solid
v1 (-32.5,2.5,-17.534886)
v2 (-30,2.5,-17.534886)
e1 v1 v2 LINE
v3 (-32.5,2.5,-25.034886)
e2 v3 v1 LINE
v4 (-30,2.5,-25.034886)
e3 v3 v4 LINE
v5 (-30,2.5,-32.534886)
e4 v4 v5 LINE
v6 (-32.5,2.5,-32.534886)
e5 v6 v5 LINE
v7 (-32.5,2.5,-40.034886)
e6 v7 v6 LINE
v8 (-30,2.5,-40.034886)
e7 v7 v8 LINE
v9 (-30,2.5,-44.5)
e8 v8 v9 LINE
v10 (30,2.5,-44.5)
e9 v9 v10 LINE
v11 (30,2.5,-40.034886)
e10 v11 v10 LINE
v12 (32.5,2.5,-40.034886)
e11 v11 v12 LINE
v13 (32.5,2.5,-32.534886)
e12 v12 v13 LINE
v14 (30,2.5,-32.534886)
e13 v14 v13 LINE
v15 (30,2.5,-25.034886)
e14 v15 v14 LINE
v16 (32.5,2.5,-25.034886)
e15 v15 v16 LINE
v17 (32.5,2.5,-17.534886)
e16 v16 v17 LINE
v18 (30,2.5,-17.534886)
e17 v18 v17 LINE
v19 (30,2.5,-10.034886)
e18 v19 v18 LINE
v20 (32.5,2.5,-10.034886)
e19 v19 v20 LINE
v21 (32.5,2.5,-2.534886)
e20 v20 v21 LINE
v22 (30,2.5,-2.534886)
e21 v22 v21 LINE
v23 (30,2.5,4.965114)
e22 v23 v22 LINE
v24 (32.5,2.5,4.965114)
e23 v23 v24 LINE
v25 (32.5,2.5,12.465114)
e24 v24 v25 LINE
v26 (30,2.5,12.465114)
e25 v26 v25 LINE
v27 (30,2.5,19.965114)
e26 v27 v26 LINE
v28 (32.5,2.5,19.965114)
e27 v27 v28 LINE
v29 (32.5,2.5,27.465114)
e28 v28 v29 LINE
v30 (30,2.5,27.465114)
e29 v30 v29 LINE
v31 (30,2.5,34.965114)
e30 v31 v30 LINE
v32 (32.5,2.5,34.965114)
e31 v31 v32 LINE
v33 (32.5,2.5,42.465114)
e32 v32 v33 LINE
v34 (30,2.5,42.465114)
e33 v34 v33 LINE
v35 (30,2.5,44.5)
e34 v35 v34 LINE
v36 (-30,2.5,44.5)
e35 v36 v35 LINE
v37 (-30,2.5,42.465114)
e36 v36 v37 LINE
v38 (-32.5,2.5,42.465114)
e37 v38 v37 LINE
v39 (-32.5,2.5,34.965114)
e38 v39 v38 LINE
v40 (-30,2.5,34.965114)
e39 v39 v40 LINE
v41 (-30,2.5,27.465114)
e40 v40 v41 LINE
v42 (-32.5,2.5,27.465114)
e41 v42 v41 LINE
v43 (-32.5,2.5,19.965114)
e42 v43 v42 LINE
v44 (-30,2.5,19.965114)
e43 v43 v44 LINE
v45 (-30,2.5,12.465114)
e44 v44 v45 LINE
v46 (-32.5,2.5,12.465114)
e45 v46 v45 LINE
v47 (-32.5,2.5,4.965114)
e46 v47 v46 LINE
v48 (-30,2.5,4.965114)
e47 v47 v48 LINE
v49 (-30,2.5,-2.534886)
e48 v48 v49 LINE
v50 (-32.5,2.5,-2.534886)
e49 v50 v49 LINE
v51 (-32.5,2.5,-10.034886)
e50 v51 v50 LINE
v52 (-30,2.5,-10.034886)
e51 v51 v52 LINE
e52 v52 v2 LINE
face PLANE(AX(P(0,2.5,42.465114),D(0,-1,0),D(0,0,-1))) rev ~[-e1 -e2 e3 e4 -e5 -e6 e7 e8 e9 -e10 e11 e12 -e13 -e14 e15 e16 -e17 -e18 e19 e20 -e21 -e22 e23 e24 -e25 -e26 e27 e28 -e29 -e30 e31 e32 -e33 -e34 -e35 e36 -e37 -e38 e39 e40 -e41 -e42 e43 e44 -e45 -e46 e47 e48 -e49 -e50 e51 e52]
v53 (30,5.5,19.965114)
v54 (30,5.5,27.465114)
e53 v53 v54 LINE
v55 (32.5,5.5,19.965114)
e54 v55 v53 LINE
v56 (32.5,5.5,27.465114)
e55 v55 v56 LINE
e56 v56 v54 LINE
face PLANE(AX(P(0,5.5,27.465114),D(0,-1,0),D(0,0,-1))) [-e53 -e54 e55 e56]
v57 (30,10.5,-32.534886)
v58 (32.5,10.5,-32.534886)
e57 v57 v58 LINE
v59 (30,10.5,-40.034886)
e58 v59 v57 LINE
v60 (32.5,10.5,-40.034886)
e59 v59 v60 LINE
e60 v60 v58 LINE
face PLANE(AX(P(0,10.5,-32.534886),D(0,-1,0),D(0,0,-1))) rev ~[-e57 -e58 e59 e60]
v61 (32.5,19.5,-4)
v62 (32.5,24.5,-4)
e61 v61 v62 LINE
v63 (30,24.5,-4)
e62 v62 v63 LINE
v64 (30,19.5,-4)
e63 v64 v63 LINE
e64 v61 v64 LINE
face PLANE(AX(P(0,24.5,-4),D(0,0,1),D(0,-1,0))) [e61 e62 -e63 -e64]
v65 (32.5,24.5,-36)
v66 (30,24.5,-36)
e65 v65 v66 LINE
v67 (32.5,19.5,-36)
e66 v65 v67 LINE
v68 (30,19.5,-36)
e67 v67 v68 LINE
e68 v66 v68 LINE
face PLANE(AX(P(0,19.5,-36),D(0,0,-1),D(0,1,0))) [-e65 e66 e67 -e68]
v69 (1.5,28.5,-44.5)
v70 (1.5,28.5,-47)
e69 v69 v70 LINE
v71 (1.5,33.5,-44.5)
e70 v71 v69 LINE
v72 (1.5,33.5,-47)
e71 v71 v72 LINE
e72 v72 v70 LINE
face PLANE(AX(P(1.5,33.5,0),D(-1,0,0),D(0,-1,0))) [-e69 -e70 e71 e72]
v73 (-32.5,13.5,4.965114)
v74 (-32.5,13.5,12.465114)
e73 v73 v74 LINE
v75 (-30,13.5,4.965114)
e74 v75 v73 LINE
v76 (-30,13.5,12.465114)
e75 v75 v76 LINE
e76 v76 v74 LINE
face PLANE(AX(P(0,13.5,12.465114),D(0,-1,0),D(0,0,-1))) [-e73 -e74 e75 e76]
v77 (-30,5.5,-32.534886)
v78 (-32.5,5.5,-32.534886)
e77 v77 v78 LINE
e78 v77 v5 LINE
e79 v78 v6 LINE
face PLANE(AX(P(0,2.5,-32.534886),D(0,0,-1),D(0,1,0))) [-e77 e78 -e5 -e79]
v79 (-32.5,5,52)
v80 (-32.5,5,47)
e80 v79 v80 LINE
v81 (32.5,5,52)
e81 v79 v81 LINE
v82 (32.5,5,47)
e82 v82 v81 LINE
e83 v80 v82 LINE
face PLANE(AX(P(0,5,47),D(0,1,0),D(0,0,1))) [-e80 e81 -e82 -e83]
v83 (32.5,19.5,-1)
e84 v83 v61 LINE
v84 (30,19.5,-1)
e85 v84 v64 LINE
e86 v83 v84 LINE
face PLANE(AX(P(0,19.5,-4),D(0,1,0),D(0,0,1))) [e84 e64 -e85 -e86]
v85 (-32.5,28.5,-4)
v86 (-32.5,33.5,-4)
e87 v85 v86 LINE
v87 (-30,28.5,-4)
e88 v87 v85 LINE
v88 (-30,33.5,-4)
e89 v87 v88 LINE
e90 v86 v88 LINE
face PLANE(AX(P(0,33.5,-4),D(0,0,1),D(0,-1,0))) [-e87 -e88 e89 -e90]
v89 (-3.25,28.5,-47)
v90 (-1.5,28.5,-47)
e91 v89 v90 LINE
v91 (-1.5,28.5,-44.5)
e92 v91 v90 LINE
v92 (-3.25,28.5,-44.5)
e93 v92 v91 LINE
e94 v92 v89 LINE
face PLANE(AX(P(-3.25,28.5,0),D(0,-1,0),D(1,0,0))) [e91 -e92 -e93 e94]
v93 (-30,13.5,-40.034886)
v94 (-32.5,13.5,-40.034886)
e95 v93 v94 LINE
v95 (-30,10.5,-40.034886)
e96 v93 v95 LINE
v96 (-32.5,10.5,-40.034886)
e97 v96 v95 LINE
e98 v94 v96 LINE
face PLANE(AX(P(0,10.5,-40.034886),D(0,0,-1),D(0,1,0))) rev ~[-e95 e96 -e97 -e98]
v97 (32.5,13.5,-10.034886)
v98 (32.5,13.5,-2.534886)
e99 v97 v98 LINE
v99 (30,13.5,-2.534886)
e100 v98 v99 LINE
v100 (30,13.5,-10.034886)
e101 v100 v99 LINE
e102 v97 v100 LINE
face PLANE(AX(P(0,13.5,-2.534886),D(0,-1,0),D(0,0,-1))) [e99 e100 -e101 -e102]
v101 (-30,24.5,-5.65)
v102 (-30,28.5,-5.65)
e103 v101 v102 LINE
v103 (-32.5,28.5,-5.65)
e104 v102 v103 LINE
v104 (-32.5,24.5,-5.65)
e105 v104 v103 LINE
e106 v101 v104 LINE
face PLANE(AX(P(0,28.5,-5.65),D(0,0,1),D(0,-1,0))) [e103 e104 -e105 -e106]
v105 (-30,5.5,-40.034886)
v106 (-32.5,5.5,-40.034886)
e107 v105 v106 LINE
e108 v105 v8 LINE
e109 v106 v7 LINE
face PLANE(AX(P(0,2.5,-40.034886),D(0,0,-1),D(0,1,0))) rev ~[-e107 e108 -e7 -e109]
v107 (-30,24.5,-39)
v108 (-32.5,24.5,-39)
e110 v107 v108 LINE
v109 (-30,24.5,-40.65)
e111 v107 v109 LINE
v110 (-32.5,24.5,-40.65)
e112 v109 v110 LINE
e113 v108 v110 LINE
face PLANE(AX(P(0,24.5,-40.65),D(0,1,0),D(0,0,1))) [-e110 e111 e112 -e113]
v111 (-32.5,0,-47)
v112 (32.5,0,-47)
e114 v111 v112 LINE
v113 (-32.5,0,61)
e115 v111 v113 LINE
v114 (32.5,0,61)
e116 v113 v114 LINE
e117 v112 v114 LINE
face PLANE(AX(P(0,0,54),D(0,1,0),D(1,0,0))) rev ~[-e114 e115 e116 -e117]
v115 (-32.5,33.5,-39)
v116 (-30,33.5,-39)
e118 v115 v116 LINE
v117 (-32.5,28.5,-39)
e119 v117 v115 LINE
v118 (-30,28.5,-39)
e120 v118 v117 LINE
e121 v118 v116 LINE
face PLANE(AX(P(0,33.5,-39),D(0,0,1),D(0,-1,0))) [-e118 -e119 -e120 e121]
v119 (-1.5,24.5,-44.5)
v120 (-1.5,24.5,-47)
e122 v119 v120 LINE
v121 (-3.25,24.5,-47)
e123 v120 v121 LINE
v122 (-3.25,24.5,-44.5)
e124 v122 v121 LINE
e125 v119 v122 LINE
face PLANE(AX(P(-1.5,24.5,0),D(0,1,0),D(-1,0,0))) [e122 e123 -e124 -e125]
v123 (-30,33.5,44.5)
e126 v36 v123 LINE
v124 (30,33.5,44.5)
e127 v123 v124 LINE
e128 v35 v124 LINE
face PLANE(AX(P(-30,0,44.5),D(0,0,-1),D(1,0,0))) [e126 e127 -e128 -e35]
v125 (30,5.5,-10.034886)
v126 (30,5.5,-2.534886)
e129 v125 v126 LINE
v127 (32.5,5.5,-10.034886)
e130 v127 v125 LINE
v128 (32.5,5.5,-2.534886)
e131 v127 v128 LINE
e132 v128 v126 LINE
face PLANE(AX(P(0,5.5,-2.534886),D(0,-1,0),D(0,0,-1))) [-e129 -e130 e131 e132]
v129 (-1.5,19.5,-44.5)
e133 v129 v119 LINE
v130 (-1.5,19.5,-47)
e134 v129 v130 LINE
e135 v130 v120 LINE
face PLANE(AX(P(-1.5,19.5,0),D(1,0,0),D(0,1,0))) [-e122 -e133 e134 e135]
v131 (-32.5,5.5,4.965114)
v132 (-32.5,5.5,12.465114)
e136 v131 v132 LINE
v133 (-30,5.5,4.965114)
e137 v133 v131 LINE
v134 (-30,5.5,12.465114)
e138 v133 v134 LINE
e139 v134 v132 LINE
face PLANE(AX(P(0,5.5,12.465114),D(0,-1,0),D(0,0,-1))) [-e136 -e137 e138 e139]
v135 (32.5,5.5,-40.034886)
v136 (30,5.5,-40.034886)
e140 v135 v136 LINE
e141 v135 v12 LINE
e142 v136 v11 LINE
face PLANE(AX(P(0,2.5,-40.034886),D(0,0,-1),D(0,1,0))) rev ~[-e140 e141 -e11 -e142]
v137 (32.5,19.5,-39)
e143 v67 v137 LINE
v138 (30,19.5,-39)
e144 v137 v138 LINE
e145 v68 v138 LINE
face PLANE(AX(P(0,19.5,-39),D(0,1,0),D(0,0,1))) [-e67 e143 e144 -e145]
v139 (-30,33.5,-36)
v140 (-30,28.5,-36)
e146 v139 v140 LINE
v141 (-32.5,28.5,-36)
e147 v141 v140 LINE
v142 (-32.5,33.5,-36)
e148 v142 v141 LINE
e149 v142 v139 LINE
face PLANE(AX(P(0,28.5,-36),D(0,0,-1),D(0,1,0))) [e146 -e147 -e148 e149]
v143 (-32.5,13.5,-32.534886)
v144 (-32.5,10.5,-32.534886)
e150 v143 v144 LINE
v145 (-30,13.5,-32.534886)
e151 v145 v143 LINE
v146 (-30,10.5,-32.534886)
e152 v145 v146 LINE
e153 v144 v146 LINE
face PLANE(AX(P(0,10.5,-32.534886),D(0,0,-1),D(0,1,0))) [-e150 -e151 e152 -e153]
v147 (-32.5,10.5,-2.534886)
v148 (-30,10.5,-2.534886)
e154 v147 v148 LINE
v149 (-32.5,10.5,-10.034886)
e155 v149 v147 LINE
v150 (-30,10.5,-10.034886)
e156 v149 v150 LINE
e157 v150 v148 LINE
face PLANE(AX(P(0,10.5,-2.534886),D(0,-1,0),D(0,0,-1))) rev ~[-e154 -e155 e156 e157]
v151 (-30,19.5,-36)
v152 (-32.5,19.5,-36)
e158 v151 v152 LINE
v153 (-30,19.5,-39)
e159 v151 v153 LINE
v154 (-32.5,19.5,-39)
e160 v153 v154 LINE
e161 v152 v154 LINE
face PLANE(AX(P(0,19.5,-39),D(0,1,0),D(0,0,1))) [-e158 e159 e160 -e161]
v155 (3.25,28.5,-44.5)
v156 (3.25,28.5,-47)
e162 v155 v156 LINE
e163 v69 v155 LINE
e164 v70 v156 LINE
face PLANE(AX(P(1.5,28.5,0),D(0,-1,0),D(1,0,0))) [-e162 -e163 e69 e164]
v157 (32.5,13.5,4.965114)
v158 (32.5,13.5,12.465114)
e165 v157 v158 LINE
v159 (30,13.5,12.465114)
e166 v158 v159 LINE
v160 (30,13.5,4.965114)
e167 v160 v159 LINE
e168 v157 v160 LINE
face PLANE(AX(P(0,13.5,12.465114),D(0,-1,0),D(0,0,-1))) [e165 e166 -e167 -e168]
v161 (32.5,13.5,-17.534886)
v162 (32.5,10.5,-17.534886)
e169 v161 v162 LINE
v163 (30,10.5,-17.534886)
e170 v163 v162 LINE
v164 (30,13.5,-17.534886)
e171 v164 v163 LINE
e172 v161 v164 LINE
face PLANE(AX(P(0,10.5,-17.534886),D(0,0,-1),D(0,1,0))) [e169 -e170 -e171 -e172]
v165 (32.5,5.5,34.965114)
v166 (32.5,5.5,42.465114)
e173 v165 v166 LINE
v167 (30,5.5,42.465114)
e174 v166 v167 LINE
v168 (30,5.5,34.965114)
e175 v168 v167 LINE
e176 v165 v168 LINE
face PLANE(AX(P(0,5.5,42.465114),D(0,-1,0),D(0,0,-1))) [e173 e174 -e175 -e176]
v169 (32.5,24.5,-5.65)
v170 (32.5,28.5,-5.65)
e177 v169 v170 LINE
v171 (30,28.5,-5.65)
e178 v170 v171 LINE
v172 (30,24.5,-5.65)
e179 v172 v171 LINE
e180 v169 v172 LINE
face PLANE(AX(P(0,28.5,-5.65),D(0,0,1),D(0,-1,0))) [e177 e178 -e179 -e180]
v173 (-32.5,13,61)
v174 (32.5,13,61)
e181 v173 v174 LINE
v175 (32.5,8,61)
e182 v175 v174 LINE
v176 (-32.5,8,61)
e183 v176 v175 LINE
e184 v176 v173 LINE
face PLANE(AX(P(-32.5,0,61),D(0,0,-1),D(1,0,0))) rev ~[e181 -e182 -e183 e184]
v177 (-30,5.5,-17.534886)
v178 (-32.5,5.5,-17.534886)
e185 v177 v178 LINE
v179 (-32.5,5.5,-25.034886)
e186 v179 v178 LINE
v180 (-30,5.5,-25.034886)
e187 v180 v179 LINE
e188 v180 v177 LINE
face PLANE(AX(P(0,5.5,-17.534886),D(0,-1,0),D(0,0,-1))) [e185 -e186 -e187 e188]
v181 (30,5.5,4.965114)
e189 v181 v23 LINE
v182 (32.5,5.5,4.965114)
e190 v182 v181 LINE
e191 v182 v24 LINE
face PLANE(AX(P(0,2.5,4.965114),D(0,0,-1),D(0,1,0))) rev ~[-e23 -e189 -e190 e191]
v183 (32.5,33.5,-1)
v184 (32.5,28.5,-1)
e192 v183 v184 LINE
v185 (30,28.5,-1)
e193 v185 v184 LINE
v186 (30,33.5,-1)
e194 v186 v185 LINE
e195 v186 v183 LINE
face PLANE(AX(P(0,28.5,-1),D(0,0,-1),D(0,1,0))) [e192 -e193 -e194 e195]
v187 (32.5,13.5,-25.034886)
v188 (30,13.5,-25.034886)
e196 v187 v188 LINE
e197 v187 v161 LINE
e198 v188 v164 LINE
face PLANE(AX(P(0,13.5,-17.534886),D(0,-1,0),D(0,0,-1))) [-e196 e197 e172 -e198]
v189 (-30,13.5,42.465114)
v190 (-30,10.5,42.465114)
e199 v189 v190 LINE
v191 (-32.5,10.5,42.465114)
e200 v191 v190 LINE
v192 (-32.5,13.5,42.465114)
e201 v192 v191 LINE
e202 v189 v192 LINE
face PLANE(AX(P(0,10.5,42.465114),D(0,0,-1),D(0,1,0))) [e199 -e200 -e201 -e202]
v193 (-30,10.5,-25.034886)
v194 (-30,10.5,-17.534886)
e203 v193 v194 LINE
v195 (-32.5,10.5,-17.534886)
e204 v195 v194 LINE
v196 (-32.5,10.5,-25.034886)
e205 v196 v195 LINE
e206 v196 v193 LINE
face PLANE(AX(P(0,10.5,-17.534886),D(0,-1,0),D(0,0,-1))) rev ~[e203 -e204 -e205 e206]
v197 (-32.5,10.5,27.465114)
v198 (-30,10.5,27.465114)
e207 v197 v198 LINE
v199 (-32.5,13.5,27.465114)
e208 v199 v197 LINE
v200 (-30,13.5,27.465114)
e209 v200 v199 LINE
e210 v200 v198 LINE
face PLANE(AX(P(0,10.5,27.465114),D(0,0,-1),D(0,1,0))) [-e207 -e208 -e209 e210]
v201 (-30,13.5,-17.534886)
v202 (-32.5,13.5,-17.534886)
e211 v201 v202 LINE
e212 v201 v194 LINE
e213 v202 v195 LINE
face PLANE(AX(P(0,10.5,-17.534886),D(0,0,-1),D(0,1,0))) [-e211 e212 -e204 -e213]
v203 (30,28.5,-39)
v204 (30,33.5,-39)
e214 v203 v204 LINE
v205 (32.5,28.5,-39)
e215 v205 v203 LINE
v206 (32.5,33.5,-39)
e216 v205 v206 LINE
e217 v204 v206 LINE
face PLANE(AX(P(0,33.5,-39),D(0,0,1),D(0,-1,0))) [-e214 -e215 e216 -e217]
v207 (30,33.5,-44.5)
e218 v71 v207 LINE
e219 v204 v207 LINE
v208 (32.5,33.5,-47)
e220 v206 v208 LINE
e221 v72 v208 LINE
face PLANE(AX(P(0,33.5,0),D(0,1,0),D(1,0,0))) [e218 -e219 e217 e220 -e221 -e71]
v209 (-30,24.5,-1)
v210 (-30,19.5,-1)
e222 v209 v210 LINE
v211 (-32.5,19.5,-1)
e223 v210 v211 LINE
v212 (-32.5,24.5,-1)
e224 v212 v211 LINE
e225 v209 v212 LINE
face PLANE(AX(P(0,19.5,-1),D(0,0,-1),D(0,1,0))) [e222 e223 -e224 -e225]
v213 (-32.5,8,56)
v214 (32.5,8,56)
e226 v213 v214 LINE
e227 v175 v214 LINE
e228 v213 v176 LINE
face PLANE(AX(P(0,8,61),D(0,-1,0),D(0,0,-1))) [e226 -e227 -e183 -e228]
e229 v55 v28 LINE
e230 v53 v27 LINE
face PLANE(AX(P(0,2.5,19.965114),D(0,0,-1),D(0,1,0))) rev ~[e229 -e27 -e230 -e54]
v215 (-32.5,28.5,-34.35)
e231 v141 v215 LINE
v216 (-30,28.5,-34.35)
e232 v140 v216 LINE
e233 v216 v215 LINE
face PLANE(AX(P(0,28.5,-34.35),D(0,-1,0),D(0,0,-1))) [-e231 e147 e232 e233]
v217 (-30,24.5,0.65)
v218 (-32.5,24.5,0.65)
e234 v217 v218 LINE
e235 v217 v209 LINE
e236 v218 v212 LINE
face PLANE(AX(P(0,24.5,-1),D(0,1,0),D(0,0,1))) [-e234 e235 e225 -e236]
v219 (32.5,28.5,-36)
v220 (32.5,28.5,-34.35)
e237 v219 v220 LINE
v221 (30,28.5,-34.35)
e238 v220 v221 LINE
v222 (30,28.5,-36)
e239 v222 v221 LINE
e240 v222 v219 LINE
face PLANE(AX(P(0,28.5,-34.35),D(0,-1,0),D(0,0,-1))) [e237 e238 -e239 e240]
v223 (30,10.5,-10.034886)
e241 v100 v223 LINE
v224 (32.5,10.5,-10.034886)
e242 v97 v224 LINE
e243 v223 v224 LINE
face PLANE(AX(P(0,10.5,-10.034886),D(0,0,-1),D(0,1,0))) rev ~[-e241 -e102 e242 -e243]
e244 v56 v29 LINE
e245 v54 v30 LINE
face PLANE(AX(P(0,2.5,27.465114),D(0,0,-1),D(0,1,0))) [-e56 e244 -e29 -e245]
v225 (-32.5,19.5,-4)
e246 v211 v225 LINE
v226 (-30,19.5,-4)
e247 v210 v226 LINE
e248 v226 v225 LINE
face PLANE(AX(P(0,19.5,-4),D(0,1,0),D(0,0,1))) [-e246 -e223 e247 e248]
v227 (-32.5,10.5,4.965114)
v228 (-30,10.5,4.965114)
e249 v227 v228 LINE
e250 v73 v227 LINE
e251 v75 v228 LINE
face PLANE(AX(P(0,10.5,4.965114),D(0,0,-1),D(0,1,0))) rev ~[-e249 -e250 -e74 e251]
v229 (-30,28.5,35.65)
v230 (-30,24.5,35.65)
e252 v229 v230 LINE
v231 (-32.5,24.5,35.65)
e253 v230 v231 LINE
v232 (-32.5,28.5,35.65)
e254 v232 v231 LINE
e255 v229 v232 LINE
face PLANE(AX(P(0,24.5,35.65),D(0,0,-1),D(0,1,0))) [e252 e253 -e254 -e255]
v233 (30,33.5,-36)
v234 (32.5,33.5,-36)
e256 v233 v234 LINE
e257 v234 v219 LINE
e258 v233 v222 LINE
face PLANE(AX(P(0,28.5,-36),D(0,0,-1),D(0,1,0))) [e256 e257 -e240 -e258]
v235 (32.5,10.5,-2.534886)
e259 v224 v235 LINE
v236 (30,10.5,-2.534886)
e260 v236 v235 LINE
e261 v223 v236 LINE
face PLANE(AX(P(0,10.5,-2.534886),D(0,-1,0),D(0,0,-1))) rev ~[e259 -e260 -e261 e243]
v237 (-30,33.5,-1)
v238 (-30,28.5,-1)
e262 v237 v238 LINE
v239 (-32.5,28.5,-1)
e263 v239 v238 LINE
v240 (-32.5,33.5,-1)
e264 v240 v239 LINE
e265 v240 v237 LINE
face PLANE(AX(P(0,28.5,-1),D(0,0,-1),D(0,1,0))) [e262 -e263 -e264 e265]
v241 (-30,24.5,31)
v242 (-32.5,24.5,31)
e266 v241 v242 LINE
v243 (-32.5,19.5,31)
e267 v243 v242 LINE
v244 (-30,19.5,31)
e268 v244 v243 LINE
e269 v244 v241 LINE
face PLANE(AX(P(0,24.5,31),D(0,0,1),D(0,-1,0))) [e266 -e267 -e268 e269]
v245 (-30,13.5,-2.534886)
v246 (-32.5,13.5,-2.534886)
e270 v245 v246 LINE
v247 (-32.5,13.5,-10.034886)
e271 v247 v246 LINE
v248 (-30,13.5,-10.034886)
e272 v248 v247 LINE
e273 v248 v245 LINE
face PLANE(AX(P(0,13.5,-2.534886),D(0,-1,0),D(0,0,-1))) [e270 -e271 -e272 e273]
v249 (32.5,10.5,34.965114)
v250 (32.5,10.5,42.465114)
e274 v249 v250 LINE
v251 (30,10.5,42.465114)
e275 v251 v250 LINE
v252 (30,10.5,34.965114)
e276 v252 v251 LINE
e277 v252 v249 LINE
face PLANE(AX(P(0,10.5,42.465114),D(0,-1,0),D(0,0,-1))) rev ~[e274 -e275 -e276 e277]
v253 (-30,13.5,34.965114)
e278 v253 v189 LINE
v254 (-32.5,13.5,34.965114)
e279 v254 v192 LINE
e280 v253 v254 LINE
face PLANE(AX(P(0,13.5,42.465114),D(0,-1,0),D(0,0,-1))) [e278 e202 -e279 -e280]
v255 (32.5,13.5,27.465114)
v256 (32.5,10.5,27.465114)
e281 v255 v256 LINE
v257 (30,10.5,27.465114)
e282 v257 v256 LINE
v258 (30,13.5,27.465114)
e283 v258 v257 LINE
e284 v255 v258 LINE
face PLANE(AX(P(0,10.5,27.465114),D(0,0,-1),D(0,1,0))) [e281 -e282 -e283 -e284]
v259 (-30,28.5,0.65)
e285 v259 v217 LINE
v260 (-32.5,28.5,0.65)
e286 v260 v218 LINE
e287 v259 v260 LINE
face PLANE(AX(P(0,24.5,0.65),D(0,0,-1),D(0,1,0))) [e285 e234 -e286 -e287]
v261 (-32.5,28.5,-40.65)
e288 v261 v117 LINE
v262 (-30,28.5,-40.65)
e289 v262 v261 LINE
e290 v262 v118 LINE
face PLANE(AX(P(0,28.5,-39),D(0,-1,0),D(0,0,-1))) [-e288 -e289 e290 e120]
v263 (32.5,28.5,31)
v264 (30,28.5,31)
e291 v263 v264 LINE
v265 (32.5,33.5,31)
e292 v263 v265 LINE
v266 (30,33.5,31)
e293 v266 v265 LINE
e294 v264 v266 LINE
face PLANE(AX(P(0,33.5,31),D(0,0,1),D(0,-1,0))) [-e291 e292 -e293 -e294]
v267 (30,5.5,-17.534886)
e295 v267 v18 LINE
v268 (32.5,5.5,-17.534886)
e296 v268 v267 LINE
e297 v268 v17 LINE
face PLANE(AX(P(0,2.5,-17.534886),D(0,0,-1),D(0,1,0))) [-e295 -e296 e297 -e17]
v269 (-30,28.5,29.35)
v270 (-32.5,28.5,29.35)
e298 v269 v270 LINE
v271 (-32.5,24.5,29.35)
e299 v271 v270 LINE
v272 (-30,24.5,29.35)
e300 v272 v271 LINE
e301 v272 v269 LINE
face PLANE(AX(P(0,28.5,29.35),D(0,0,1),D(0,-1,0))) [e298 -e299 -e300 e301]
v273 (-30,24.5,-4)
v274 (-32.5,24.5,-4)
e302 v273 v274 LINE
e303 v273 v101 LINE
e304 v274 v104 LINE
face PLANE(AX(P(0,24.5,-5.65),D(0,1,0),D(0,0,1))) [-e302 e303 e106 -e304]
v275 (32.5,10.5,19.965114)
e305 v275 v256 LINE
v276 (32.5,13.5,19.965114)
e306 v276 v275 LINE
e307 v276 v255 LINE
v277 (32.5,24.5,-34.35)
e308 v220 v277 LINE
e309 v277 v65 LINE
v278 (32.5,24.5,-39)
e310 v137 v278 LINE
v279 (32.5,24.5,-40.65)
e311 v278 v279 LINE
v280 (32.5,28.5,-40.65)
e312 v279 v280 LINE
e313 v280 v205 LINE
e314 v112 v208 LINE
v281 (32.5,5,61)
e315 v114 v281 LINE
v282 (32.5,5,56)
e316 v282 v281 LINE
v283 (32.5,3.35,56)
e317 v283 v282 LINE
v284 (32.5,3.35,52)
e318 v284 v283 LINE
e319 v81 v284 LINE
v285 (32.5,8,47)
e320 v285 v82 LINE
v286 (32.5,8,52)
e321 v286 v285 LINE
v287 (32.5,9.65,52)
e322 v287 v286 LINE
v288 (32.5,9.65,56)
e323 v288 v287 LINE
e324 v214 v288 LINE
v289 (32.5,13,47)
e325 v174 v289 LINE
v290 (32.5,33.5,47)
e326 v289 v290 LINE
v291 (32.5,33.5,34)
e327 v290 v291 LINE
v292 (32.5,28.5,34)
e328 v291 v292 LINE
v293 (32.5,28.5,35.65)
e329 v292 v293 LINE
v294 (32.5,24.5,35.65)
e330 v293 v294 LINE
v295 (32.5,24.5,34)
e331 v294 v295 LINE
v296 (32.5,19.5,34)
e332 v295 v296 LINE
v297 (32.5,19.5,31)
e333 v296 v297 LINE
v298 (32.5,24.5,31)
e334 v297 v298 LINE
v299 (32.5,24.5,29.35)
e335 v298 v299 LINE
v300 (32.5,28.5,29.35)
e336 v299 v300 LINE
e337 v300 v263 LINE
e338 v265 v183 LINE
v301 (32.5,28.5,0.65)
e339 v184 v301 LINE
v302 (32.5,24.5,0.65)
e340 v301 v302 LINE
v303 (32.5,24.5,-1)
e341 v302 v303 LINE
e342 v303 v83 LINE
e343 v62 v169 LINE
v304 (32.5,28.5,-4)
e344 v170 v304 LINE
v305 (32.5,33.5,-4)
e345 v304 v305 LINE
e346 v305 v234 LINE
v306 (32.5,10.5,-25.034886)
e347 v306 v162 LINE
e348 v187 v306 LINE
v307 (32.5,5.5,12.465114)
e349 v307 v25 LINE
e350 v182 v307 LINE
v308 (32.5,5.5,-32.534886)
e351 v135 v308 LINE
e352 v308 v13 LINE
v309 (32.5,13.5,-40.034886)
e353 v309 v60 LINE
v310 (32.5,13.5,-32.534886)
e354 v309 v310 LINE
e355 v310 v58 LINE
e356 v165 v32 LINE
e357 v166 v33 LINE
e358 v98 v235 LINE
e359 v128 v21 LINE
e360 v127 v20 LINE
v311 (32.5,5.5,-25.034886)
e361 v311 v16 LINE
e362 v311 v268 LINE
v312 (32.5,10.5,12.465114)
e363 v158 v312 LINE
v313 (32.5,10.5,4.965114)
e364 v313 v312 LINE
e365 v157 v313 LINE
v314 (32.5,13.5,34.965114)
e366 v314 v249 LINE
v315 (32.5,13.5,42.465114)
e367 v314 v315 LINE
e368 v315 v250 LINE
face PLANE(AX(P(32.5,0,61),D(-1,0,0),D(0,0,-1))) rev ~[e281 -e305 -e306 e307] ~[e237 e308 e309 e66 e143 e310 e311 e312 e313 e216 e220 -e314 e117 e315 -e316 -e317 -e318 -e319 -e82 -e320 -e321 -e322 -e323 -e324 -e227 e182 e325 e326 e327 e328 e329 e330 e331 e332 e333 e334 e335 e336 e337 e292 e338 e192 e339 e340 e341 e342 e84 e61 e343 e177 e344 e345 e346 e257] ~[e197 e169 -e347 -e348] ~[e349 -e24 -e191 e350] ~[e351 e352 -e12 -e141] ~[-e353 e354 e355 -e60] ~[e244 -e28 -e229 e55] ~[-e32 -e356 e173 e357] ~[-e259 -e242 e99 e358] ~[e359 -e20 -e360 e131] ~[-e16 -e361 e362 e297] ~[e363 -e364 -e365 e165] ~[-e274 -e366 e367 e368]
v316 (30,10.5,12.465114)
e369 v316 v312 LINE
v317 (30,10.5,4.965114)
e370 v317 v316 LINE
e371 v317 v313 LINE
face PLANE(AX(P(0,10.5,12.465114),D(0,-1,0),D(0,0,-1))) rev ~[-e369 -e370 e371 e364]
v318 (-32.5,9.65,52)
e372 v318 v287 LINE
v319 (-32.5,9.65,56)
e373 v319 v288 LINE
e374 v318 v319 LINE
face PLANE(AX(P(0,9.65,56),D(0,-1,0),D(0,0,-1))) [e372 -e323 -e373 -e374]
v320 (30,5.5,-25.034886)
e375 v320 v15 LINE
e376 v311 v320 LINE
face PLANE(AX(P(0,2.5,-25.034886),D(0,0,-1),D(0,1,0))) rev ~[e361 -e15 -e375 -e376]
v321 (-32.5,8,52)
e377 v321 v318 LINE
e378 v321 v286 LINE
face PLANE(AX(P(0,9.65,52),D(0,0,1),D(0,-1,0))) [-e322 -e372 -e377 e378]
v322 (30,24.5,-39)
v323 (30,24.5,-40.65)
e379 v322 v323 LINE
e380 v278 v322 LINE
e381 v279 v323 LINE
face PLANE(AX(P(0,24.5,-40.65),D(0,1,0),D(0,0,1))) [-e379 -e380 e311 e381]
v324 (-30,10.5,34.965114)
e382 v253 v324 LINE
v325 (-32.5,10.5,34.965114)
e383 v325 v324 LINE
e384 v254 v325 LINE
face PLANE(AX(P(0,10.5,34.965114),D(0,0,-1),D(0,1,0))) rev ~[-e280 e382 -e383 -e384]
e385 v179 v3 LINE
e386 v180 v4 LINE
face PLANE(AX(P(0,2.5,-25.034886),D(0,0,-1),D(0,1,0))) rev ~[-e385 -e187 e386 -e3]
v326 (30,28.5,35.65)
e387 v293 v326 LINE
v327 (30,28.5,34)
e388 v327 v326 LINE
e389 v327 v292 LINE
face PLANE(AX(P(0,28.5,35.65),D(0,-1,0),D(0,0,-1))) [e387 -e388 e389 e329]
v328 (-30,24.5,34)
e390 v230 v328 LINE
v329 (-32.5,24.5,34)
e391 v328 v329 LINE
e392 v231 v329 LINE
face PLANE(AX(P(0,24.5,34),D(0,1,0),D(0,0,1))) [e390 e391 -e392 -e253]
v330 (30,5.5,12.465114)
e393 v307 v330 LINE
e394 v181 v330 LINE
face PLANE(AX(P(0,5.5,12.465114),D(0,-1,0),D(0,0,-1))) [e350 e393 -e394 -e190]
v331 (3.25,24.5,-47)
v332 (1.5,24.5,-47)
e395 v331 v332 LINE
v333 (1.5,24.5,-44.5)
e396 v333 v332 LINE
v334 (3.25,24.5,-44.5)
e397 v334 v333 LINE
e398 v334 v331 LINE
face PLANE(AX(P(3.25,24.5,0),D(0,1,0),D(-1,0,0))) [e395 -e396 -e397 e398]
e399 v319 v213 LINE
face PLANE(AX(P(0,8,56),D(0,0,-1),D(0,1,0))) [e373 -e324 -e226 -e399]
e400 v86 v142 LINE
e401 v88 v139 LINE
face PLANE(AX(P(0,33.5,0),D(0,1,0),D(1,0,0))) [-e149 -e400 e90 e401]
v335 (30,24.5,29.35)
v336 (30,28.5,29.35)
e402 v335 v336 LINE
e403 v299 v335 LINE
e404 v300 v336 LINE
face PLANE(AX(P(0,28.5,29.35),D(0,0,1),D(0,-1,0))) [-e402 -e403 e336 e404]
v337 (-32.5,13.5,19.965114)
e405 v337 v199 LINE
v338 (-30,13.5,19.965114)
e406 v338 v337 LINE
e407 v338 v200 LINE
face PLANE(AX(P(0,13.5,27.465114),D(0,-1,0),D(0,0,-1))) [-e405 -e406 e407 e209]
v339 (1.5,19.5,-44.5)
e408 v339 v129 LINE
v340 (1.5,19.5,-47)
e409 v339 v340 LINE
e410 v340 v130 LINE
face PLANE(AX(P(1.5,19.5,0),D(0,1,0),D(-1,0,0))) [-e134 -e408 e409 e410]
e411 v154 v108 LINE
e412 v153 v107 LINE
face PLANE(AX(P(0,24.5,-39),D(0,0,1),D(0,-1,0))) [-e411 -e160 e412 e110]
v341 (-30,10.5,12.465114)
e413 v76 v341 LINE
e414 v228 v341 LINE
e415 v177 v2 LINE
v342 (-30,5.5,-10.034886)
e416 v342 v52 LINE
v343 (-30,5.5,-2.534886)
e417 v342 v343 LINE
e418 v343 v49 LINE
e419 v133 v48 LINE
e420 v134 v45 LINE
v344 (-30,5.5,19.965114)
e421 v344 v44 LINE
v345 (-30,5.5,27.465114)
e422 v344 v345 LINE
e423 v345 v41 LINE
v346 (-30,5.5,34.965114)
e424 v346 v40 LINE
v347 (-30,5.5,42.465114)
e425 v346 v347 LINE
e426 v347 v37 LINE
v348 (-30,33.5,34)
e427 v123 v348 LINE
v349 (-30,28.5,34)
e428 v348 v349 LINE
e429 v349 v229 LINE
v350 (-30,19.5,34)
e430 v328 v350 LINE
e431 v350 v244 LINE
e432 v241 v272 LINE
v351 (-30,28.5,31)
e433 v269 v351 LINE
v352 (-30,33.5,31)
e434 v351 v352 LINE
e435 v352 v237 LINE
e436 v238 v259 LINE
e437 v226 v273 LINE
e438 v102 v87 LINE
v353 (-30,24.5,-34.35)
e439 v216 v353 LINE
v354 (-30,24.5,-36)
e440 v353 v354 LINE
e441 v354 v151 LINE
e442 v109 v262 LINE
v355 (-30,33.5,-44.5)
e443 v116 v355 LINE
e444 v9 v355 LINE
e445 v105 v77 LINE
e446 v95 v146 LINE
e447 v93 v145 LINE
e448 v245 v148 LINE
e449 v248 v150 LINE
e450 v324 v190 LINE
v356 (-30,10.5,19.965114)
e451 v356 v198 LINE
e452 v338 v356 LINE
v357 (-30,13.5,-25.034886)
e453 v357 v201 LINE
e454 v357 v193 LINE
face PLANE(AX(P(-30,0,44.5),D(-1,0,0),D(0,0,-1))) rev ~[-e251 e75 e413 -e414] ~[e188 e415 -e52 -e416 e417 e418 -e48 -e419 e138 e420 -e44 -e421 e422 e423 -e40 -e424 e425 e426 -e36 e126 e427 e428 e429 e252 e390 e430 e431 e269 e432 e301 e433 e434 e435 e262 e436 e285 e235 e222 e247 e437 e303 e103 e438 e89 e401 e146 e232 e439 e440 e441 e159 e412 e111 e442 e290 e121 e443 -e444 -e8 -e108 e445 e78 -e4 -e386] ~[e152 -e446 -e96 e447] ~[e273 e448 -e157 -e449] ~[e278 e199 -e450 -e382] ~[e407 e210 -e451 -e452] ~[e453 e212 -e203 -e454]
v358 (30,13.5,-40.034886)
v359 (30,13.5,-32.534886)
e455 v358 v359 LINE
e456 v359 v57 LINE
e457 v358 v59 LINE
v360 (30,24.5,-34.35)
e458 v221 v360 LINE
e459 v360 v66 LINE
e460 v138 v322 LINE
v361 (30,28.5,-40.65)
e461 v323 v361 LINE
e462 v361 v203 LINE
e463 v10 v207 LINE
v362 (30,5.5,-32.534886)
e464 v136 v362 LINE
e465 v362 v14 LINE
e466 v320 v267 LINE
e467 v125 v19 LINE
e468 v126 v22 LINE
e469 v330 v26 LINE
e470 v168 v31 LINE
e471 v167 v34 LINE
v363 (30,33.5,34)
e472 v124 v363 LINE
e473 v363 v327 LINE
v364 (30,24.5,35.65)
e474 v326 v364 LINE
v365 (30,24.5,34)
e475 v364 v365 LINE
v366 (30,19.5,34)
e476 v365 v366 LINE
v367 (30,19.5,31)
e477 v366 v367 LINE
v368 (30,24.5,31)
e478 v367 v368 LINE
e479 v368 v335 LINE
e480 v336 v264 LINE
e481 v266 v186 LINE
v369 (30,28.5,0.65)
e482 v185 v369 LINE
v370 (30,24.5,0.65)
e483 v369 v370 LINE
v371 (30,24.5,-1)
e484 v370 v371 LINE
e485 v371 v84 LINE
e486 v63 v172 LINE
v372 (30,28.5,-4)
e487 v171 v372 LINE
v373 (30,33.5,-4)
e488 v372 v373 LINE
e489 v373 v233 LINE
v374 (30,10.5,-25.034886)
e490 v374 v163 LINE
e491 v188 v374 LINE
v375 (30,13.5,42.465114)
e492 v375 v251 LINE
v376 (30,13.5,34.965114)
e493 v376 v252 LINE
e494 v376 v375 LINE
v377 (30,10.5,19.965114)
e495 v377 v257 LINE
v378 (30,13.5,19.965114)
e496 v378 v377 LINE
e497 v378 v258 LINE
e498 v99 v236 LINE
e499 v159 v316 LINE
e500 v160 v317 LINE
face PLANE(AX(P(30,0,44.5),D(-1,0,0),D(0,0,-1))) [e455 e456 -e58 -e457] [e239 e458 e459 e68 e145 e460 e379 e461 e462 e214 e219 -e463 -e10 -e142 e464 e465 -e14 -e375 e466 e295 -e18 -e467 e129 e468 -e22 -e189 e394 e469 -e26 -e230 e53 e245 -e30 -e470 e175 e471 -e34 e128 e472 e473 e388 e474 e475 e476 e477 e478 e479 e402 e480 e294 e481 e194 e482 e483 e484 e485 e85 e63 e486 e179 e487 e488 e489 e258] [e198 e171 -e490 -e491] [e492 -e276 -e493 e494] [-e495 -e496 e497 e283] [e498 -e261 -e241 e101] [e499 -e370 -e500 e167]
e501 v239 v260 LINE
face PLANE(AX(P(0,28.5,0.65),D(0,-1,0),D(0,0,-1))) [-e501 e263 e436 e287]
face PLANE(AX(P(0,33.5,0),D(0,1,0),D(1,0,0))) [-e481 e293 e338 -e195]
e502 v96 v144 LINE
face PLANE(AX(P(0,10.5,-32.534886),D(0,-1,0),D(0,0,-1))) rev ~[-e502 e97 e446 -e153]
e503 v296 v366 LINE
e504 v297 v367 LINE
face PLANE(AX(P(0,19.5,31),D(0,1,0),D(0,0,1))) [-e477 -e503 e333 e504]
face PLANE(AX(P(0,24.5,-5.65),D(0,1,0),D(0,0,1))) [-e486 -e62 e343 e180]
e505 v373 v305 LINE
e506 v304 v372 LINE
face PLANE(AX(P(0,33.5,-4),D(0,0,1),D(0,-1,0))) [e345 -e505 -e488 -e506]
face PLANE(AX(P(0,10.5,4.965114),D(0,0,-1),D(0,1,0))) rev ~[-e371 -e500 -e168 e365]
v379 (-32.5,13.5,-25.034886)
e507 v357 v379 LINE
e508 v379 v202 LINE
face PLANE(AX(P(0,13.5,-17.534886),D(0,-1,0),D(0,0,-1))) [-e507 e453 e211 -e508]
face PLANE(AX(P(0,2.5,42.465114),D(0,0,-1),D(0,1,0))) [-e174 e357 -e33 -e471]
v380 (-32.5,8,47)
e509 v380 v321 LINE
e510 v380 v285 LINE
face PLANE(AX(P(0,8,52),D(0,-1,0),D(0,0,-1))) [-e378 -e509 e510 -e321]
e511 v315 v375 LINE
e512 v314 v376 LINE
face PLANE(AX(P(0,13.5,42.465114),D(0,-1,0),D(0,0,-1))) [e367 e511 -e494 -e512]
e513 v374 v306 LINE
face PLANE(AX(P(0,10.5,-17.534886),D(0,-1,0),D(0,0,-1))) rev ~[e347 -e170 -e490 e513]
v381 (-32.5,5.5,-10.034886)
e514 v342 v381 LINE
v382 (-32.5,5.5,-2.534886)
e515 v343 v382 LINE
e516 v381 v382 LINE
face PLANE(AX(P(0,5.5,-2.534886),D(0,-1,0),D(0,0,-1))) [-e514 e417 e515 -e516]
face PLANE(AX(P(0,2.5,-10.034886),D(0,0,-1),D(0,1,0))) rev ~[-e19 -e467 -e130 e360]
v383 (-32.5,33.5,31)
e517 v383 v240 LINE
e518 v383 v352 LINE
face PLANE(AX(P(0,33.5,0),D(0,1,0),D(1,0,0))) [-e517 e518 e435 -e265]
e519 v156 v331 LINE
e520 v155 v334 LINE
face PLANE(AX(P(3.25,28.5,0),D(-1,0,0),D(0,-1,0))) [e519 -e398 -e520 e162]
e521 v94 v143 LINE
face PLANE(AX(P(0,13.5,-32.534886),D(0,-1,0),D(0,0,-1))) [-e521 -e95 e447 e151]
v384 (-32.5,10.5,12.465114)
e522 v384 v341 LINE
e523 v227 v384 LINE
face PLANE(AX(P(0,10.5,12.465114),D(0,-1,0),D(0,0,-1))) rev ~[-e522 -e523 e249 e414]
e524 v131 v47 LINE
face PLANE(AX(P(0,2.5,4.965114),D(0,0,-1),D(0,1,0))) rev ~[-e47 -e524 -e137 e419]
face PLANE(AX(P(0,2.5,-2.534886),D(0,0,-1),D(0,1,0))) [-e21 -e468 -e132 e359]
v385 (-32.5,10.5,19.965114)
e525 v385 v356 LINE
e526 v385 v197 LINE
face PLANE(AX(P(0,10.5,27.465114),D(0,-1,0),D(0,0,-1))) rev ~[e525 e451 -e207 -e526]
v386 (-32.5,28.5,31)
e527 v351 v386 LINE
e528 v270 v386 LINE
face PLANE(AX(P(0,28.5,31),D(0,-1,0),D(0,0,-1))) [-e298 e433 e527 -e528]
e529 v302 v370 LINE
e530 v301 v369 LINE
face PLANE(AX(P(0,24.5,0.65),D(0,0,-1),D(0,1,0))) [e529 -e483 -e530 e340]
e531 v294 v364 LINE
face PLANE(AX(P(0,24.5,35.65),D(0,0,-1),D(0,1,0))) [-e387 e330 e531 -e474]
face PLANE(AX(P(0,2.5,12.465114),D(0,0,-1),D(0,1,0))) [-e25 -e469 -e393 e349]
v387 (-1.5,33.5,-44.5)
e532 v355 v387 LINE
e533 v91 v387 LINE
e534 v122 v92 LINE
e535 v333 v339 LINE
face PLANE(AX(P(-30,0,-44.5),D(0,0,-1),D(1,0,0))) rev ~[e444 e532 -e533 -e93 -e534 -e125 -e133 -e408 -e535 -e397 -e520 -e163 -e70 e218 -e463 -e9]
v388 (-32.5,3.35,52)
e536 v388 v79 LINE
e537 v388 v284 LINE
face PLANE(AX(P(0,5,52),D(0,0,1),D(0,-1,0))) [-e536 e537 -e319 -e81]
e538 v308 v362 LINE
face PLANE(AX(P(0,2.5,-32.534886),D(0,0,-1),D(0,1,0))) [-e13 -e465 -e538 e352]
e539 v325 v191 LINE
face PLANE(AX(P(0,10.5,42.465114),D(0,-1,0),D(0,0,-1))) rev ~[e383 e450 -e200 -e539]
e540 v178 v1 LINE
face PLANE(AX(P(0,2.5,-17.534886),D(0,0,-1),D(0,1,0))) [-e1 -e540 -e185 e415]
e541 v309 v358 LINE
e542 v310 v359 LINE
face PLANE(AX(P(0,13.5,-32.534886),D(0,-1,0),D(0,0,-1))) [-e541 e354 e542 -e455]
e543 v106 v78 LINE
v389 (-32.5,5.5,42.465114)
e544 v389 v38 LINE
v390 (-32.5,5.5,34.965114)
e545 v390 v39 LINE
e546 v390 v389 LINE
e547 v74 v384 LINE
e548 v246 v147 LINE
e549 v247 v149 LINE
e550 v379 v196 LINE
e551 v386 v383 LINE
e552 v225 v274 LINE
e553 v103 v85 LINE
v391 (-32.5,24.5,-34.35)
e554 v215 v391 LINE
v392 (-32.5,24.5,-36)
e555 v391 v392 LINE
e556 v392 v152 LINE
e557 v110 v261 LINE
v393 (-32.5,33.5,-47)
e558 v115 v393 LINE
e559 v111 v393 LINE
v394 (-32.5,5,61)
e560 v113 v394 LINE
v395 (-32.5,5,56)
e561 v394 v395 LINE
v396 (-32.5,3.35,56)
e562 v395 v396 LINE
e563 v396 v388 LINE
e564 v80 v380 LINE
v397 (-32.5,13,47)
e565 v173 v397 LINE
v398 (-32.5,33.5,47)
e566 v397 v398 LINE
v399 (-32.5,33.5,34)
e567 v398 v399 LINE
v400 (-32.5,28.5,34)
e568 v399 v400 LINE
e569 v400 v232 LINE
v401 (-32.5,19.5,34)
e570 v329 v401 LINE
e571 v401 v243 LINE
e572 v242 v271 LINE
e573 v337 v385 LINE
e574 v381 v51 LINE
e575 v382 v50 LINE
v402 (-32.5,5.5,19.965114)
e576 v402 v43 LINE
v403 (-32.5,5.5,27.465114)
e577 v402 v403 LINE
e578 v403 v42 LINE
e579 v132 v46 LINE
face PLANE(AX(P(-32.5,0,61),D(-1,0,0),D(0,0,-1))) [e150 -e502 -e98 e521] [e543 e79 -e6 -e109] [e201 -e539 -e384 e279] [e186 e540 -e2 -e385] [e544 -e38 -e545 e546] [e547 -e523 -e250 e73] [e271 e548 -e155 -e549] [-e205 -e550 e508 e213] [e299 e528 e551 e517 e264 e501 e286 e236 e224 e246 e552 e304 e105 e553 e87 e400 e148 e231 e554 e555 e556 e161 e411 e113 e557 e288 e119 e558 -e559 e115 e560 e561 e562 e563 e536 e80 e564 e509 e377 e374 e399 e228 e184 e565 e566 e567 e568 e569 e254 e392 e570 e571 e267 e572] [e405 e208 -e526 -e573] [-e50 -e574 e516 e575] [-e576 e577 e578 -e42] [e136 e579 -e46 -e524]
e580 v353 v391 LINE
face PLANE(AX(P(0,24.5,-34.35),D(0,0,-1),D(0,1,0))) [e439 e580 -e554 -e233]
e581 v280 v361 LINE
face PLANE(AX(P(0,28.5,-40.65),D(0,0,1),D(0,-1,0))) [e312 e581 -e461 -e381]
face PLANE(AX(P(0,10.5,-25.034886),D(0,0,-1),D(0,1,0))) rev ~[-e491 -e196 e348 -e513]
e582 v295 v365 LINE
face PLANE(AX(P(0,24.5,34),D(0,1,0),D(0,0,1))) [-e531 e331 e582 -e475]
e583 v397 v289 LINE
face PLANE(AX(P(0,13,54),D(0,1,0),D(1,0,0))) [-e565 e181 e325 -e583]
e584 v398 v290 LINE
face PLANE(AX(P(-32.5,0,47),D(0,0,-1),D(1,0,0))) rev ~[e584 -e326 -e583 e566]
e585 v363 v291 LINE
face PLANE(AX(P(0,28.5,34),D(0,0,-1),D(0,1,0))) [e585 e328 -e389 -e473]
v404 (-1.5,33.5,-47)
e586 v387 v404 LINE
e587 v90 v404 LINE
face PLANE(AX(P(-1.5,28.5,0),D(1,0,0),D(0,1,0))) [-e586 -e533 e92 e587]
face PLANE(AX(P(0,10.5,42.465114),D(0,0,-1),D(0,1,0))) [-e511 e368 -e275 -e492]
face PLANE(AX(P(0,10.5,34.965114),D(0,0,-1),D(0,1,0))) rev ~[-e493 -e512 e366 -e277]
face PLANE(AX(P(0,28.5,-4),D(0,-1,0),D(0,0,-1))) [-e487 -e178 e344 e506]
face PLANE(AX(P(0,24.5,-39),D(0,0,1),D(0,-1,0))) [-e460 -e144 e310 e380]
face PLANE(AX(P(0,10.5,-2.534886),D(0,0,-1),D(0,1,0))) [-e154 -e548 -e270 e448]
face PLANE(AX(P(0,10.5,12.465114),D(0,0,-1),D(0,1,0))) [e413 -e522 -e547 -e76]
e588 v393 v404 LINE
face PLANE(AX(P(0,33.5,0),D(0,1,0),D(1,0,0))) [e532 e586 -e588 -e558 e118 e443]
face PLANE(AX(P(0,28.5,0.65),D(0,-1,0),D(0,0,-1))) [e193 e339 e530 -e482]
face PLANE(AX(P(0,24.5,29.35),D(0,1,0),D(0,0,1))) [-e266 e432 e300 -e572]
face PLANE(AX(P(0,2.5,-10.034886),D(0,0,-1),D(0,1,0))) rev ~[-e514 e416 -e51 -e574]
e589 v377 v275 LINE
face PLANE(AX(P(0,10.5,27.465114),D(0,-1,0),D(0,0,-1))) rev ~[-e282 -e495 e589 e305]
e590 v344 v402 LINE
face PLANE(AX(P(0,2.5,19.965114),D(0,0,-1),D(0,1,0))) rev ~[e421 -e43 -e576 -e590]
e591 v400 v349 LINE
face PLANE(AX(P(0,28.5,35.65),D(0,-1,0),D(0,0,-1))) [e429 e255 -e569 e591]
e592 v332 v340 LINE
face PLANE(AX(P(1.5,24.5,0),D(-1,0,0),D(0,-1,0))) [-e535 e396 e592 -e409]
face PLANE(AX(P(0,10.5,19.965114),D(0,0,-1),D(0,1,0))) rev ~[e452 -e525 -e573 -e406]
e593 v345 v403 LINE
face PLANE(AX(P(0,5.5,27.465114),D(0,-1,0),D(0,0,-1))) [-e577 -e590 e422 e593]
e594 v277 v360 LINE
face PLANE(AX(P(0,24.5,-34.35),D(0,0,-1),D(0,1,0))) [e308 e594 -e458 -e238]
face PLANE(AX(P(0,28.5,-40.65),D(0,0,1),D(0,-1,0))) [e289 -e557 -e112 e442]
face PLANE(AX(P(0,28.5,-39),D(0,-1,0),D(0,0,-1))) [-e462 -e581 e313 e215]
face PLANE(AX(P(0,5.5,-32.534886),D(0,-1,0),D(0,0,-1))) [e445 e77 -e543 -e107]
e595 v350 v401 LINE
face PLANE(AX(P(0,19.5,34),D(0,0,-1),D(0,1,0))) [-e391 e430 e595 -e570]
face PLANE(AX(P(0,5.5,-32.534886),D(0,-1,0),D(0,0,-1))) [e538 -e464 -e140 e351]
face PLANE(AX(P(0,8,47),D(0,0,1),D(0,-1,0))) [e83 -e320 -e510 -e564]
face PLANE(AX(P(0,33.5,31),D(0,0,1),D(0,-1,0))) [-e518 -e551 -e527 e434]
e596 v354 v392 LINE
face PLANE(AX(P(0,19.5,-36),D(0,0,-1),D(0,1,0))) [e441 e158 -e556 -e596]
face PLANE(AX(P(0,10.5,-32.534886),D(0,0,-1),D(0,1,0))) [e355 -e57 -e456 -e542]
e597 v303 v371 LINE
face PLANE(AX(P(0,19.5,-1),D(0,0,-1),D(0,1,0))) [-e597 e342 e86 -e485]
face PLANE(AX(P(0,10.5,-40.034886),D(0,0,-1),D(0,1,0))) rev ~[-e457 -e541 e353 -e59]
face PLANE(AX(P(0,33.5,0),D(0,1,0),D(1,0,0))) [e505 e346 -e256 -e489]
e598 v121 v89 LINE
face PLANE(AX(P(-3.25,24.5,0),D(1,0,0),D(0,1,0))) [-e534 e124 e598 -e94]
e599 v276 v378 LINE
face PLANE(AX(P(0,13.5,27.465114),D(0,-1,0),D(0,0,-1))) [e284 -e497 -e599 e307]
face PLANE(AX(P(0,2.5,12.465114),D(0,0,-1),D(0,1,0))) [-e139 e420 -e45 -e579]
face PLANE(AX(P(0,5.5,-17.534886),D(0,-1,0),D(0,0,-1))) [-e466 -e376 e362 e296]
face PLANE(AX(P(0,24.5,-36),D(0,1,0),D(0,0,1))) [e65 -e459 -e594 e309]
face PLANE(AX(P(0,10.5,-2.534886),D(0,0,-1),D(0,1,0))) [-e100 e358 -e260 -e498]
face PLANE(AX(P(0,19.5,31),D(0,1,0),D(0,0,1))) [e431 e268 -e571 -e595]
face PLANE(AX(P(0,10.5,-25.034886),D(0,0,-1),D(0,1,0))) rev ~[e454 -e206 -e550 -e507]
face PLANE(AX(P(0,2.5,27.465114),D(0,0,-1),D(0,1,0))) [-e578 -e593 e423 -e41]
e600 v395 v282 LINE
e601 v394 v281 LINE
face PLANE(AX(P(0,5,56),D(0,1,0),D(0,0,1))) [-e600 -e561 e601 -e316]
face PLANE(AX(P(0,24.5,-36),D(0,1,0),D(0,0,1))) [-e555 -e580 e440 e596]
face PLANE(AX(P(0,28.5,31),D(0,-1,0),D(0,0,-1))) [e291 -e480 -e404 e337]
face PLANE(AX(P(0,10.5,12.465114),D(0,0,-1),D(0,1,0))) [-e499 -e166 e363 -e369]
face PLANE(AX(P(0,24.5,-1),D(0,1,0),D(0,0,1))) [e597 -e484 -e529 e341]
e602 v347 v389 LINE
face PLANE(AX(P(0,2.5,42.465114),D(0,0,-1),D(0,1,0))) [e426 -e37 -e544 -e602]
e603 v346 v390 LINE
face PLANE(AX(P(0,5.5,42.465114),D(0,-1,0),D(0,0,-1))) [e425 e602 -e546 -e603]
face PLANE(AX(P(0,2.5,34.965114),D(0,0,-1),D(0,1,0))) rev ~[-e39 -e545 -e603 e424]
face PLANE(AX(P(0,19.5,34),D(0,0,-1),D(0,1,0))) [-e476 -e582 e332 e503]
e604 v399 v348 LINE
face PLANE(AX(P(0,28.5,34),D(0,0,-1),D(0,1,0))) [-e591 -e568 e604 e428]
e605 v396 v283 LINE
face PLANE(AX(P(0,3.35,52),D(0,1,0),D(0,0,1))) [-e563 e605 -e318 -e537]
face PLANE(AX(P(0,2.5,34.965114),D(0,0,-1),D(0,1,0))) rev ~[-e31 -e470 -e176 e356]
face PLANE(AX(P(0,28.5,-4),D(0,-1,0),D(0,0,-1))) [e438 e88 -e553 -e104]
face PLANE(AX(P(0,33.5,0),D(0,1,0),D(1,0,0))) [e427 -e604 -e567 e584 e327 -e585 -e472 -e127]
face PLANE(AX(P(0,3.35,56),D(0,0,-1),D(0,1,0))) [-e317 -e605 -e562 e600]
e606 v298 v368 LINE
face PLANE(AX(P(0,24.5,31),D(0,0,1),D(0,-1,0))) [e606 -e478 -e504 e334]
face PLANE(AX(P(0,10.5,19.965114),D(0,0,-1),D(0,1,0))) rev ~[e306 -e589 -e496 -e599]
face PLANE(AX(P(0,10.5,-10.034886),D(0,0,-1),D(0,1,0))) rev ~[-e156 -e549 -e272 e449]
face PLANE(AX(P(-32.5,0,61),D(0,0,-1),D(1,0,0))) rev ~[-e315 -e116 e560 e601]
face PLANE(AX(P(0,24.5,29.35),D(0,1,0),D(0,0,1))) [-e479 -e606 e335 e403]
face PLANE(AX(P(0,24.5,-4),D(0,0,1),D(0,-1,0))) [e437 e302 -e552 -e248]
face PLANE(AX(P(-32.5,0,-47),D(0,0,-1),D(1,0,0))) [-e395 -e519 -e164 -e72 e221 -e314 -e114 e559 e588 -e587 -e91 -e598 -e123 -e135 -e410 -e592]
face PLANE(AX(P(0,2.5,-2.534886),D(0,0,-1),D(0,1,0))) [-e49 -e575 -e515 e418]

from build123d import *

# Parameters (mm, degrees)
SKETCH1_W                 = 60
SKETCH1_H                 = 89
BOSS_EXTRUDE1_DEPTH       = 2.5
SKETCH3_W                 = 65
SKETCH3_H                 = 94
SKETCH3_W_2               = 60
SKETCH3_H_2               = 89
BOSS_EXTRUDE2_DEPTH       = 33.5
SKETCH5_W                 = 7.5
SKETCH5_H                 = 3
CUT_EXTRUDE1_DEPTH        = 33.5
LPATTERN1_COUNT           = 6
LPATTERN1_PITCH           = 15
LPATTERN2_COUNT           = 2
LPATTERN2_PITCH           = 8
LPATTERN2_COPY_1_SKETCH_W = 7.5
LPATTERN2_COPY_1_SKETCH_H = 3
LPATTERN2_COPY_1_DEPTH    = 33.5
LPATTERN2_COPY_2_SKETCH_W = 7.5
LPATTERN2_COPY_2_SKETCH_H = 3
LPATTERN2_COPY_2_DEPTH    = 33.5
LPATTERN2_COPY_3_SKETCH_W = 7.5
LPATTERN2_COPY_3_SKETCH_H = 3
LPATTERN2_COPY_3_DEPTH    = 33.5
LPATTERN2_COPY_4_SKETCH_W = 7.5
LPATTERN2_COPY_4_SKETCH_H = 3
LPATTERN2_COPY_4_DEPTH    = 33.5
LPATTERN2_COPY_5_SKETCH_W = 7.5
LPATTERN2_COPY_5_SKETCH_H = 3
LPATTERN2_COPY_5_DEPTH    = 33.5
SKETCH6_W                 = 65
SKETCH6_H                 = 14
BOSS_EXTRUDE3_DEPTH       = 13
CUT_EXTRUDE2_DEPTH        = 33.5
CUT_EXTRUDE2_DEPTH_BACK   = 33.5
CUT_EXTRUDE3_DEPTH        = 33.5
LPATTERN3_COUNT           = 3
LPATTERN3_PITCH           = 35
CUT_EXTRUDE4_REACH        = 49


with BuildPart() as part:
    # Sketch1 → Boss-Extrude1 (new body)
    with BuildSketch(Plane(origin=(0, 0, 0), x_dir=(1, 0, 0), z_dir=(0, 1, 0))):
        Rectangle(SKETCH1_W, SKETCH1_H)
    extrude(amount=BOSS_EXTRUDE1_DEPTH)

    # Sketch3 → Boss-Extrude2 (add)
    with BuildSketch(Plane(origin=(0, 0, 0), x_dir=(1, 0, 0), z_dir=(0, 1, 0))):
        Rectangle(SKETCH3_W, SKETCH3_H)
        Rectangle(SKETCH3_W_2, SKETCH3_H_2, mode=Mode.SUBTRACT)
    extrude(amount=BOSS_EXTRUDE2_DEPTH)

    # Sketch5 → Cut-Extrude1 (cut, symmetric)
    with BuildSketch(Plane(origin=(0, 0, 0), x_dir=(0, 0, -1), z_dir=(1, 0, 0))):
        with Locations((-38.715113754, 4)):
            Rectangle(SKETCH5_W, SKETCH5_H)
    cut_extrude1 = extrude(amount=CUT_EXTRUDE1_DEPTH, both=True, mode=Mode.SUBTRACT)

    # LPattern1: Cut-Extrude1 ×6
    with Locations(*[(0, 0, -i * LPATTERN1_PITCH) for i in range(1, LPATTERN1_COUNT)]):
        add(cut_extrude1, mode=Mode.SUBTRACT)

    # LPattern2: Cut-Extrude1 ×2
    with Locations(*[(0, i * LPATTERN2_PITCH, 0) for i in range(1, LPATTERN2_COUNT)]):
        add(cut_extrude1, mode=Mode.SUBTRACT)

    # LPattern2 copy 1 sketch → LPattern2 copy 1 (cut, symmetric)
    with BuildSketch(Plane(origin=(0, 8, -15), x_dir=(0, 0, -1), z_dir=(1, 0, 0))):
        with Locations((-38.715113754, 4)):
            Rectangle(LPATTERN2_COPY_1_SKETCH_W, LPATTERN2_COPY_1_SKETCH_H)
    extrude(amount=LPATTERN2_COPY_1_DEPTH, both=True, mode=Mode.SUBTRACT)

    # LPattern2 copy 2 sketch → LPattern2 copy 2 (cut, symmetric)
    with BuildSketch(Plane(origin=(0, 8, -30), x_dir=(0, 0, -1), z_dir=(1, 0, 0))):
        with Locations((-38.715113754, 4)):
            Rectangle(LPATTERN2_COPY_2_SKETCH_W, LPATTERN2_COPY_2_SKETCH_H)
    extrude(amount=LPATTERN2_COPY_2_DEPTH, both=True, mode=Mode.SUBTRACT)

    # LPattern2 copy 3 sketch → LPattern2 copy 3 (cut, symmetric)
    with BuildSketch(Plane(origin=(0, 8, -45), x_dir=(0, 0, -1), z_dir=(1, 0, 0))):
        with Locations((-38.715113754, 4)):
            Rectangle(LPATTERN2_COPY_3_SKETCH_W, LPATTERN2_COPY_3_SKETCH_H)
    extrude(amount=LPATTERN2_COPY_3_DEPTH, both=True, mode=Mode.SUBTRACT)

    # LPattern2 copy 4 sketch → LPattern2 copy 4 (cut, symmetric)
    with BuildSketch(Plane(origin=(0, 8, -60), x_dir=(0, 0, -1), z_dir=(1, 0, 0))):
        with Locations((-38.715113754, 4)):
            Rectangle(LPATTERN2_COPY_4_SKETCH_W, LPATTERN2_COPY_4_SKETCH_H)
    extrude(amount=LPATTERN2_COPY_4_DEPTH, both=True, mode=Mode.SUBTRACT)

    # LPattern2 copy 5 sketch → LPattern2 copy 5 (cut, symmetric)
    with BuildSketch(Plane(origin=(0, 8, -75), x_dir=(0, 0, -1), z_dir=(1, 0, 0))):
        with Locations((-38.715113754, 4)):
            Rectangle(LPATTERN2_COPY_5_SKETCH_W, LPATTERN2_COPY_5_SKETCH_H)
    extrude(amount=LPATTERN2_COPY_5_DEPTH, both=True, mode=Mode.SUBTRACT)

    # Sketch6 → Boss-Extrude3 (add)
    with BuildSketch(Plane(origin=(0, 0, 0), x_dir=(1, 0, 0), z_dir=(0, 1, 0))):
        with Locations((0, -54)):
            Rectangle(SKETCH6_W, SKETCH6_H)
    extrude(amount=BOSS_EXTRUDE3_DEPTH)

    # Sketch7 → Cut-Extrude2 (cut, two sides)
    with BuildSketch(Plane(origin=(0, 0, 0), x_dir=(0, 0, -1), z_dir=(1, 0, 0))) as cut_extrude2_sk:
        Polygon((-61, 8), (-56, 8), (-56, 9.65), (-52, 9.65), (-52, 8), (-47, 8), (-47, 5), (-52, 5), (-52, 3.35), (-56, 3.35), (-56, 5), (-61, 5), align=None)
    extrude(amount=CUT_EXTRUDE2_DEPTH, mode=Mode.SUBTRACT)
    extrude(cut_extrude2_sk.sketch, amount=-CUT_EXTRUDE2_DEPTH_BACK, mode=Mode.SUBTRACT)

    # Sketch11 → Cut-Extrude3 (cut, symmetric)
    with BuildSketch(Plane(origin=(0, 0, 0), x_dir=(0, 0, -1), z_dir=(1, 0, 0))):
        Polygon((39, 33.5), (39, 28.5), (40.65, 28.5), (40.65, 24.5), (39, 24.5), (39, 19.5), (36, 19.5), (36, 24.5), (34.35, 24.5), (34.35, 28.5), (36, 28.5), (36, 33.5), align=None)
    cut_extrude3 = extrude(amount=CUT_EXTRUDE3_DEPTH, both=True, mode=Mode.SUBTRACT)

    # LPattern3: Cut-Extrude3 ×3
    with Locations(*[(0, 0, i * LPATTERN3_PITCH) for i in range(1, LPATTERN3_COUNT)]):
        add(cut_extrude3, mode=Mode.SUBTRACT)

    # Sketch12 → Cut-Extrude4 (cut, up to next)
    with BuildSketch(Plane.XY, mode=Mode.PRIVATE) as cut_extrude4_sk1:
        Polygon((1.5, 33.5), (1.5, 28.5), (3.25, 28.5), (3.25, 24.5), (1.5, 24.5), (1.5, 19.5), (-1.5, 19.5), (-1.5, 24.5), (-3.25, 24.5), (-3.25, 28.5), (-1.5, 28.5), (-1.5, 33.5), align=None)
    cut_extrude4_tool1 = extrude(cut_extrude4_sk1.sketch, amount=-CUT_EXTRUDE4_REACH, mode=Mode.PRIVATE) & part.part
    add(cut_extrude4_tool1.solids().sort_by_distance((0, 26.5, 0))[0], mode=Mode.SUBTRACT)


solid = part.part
